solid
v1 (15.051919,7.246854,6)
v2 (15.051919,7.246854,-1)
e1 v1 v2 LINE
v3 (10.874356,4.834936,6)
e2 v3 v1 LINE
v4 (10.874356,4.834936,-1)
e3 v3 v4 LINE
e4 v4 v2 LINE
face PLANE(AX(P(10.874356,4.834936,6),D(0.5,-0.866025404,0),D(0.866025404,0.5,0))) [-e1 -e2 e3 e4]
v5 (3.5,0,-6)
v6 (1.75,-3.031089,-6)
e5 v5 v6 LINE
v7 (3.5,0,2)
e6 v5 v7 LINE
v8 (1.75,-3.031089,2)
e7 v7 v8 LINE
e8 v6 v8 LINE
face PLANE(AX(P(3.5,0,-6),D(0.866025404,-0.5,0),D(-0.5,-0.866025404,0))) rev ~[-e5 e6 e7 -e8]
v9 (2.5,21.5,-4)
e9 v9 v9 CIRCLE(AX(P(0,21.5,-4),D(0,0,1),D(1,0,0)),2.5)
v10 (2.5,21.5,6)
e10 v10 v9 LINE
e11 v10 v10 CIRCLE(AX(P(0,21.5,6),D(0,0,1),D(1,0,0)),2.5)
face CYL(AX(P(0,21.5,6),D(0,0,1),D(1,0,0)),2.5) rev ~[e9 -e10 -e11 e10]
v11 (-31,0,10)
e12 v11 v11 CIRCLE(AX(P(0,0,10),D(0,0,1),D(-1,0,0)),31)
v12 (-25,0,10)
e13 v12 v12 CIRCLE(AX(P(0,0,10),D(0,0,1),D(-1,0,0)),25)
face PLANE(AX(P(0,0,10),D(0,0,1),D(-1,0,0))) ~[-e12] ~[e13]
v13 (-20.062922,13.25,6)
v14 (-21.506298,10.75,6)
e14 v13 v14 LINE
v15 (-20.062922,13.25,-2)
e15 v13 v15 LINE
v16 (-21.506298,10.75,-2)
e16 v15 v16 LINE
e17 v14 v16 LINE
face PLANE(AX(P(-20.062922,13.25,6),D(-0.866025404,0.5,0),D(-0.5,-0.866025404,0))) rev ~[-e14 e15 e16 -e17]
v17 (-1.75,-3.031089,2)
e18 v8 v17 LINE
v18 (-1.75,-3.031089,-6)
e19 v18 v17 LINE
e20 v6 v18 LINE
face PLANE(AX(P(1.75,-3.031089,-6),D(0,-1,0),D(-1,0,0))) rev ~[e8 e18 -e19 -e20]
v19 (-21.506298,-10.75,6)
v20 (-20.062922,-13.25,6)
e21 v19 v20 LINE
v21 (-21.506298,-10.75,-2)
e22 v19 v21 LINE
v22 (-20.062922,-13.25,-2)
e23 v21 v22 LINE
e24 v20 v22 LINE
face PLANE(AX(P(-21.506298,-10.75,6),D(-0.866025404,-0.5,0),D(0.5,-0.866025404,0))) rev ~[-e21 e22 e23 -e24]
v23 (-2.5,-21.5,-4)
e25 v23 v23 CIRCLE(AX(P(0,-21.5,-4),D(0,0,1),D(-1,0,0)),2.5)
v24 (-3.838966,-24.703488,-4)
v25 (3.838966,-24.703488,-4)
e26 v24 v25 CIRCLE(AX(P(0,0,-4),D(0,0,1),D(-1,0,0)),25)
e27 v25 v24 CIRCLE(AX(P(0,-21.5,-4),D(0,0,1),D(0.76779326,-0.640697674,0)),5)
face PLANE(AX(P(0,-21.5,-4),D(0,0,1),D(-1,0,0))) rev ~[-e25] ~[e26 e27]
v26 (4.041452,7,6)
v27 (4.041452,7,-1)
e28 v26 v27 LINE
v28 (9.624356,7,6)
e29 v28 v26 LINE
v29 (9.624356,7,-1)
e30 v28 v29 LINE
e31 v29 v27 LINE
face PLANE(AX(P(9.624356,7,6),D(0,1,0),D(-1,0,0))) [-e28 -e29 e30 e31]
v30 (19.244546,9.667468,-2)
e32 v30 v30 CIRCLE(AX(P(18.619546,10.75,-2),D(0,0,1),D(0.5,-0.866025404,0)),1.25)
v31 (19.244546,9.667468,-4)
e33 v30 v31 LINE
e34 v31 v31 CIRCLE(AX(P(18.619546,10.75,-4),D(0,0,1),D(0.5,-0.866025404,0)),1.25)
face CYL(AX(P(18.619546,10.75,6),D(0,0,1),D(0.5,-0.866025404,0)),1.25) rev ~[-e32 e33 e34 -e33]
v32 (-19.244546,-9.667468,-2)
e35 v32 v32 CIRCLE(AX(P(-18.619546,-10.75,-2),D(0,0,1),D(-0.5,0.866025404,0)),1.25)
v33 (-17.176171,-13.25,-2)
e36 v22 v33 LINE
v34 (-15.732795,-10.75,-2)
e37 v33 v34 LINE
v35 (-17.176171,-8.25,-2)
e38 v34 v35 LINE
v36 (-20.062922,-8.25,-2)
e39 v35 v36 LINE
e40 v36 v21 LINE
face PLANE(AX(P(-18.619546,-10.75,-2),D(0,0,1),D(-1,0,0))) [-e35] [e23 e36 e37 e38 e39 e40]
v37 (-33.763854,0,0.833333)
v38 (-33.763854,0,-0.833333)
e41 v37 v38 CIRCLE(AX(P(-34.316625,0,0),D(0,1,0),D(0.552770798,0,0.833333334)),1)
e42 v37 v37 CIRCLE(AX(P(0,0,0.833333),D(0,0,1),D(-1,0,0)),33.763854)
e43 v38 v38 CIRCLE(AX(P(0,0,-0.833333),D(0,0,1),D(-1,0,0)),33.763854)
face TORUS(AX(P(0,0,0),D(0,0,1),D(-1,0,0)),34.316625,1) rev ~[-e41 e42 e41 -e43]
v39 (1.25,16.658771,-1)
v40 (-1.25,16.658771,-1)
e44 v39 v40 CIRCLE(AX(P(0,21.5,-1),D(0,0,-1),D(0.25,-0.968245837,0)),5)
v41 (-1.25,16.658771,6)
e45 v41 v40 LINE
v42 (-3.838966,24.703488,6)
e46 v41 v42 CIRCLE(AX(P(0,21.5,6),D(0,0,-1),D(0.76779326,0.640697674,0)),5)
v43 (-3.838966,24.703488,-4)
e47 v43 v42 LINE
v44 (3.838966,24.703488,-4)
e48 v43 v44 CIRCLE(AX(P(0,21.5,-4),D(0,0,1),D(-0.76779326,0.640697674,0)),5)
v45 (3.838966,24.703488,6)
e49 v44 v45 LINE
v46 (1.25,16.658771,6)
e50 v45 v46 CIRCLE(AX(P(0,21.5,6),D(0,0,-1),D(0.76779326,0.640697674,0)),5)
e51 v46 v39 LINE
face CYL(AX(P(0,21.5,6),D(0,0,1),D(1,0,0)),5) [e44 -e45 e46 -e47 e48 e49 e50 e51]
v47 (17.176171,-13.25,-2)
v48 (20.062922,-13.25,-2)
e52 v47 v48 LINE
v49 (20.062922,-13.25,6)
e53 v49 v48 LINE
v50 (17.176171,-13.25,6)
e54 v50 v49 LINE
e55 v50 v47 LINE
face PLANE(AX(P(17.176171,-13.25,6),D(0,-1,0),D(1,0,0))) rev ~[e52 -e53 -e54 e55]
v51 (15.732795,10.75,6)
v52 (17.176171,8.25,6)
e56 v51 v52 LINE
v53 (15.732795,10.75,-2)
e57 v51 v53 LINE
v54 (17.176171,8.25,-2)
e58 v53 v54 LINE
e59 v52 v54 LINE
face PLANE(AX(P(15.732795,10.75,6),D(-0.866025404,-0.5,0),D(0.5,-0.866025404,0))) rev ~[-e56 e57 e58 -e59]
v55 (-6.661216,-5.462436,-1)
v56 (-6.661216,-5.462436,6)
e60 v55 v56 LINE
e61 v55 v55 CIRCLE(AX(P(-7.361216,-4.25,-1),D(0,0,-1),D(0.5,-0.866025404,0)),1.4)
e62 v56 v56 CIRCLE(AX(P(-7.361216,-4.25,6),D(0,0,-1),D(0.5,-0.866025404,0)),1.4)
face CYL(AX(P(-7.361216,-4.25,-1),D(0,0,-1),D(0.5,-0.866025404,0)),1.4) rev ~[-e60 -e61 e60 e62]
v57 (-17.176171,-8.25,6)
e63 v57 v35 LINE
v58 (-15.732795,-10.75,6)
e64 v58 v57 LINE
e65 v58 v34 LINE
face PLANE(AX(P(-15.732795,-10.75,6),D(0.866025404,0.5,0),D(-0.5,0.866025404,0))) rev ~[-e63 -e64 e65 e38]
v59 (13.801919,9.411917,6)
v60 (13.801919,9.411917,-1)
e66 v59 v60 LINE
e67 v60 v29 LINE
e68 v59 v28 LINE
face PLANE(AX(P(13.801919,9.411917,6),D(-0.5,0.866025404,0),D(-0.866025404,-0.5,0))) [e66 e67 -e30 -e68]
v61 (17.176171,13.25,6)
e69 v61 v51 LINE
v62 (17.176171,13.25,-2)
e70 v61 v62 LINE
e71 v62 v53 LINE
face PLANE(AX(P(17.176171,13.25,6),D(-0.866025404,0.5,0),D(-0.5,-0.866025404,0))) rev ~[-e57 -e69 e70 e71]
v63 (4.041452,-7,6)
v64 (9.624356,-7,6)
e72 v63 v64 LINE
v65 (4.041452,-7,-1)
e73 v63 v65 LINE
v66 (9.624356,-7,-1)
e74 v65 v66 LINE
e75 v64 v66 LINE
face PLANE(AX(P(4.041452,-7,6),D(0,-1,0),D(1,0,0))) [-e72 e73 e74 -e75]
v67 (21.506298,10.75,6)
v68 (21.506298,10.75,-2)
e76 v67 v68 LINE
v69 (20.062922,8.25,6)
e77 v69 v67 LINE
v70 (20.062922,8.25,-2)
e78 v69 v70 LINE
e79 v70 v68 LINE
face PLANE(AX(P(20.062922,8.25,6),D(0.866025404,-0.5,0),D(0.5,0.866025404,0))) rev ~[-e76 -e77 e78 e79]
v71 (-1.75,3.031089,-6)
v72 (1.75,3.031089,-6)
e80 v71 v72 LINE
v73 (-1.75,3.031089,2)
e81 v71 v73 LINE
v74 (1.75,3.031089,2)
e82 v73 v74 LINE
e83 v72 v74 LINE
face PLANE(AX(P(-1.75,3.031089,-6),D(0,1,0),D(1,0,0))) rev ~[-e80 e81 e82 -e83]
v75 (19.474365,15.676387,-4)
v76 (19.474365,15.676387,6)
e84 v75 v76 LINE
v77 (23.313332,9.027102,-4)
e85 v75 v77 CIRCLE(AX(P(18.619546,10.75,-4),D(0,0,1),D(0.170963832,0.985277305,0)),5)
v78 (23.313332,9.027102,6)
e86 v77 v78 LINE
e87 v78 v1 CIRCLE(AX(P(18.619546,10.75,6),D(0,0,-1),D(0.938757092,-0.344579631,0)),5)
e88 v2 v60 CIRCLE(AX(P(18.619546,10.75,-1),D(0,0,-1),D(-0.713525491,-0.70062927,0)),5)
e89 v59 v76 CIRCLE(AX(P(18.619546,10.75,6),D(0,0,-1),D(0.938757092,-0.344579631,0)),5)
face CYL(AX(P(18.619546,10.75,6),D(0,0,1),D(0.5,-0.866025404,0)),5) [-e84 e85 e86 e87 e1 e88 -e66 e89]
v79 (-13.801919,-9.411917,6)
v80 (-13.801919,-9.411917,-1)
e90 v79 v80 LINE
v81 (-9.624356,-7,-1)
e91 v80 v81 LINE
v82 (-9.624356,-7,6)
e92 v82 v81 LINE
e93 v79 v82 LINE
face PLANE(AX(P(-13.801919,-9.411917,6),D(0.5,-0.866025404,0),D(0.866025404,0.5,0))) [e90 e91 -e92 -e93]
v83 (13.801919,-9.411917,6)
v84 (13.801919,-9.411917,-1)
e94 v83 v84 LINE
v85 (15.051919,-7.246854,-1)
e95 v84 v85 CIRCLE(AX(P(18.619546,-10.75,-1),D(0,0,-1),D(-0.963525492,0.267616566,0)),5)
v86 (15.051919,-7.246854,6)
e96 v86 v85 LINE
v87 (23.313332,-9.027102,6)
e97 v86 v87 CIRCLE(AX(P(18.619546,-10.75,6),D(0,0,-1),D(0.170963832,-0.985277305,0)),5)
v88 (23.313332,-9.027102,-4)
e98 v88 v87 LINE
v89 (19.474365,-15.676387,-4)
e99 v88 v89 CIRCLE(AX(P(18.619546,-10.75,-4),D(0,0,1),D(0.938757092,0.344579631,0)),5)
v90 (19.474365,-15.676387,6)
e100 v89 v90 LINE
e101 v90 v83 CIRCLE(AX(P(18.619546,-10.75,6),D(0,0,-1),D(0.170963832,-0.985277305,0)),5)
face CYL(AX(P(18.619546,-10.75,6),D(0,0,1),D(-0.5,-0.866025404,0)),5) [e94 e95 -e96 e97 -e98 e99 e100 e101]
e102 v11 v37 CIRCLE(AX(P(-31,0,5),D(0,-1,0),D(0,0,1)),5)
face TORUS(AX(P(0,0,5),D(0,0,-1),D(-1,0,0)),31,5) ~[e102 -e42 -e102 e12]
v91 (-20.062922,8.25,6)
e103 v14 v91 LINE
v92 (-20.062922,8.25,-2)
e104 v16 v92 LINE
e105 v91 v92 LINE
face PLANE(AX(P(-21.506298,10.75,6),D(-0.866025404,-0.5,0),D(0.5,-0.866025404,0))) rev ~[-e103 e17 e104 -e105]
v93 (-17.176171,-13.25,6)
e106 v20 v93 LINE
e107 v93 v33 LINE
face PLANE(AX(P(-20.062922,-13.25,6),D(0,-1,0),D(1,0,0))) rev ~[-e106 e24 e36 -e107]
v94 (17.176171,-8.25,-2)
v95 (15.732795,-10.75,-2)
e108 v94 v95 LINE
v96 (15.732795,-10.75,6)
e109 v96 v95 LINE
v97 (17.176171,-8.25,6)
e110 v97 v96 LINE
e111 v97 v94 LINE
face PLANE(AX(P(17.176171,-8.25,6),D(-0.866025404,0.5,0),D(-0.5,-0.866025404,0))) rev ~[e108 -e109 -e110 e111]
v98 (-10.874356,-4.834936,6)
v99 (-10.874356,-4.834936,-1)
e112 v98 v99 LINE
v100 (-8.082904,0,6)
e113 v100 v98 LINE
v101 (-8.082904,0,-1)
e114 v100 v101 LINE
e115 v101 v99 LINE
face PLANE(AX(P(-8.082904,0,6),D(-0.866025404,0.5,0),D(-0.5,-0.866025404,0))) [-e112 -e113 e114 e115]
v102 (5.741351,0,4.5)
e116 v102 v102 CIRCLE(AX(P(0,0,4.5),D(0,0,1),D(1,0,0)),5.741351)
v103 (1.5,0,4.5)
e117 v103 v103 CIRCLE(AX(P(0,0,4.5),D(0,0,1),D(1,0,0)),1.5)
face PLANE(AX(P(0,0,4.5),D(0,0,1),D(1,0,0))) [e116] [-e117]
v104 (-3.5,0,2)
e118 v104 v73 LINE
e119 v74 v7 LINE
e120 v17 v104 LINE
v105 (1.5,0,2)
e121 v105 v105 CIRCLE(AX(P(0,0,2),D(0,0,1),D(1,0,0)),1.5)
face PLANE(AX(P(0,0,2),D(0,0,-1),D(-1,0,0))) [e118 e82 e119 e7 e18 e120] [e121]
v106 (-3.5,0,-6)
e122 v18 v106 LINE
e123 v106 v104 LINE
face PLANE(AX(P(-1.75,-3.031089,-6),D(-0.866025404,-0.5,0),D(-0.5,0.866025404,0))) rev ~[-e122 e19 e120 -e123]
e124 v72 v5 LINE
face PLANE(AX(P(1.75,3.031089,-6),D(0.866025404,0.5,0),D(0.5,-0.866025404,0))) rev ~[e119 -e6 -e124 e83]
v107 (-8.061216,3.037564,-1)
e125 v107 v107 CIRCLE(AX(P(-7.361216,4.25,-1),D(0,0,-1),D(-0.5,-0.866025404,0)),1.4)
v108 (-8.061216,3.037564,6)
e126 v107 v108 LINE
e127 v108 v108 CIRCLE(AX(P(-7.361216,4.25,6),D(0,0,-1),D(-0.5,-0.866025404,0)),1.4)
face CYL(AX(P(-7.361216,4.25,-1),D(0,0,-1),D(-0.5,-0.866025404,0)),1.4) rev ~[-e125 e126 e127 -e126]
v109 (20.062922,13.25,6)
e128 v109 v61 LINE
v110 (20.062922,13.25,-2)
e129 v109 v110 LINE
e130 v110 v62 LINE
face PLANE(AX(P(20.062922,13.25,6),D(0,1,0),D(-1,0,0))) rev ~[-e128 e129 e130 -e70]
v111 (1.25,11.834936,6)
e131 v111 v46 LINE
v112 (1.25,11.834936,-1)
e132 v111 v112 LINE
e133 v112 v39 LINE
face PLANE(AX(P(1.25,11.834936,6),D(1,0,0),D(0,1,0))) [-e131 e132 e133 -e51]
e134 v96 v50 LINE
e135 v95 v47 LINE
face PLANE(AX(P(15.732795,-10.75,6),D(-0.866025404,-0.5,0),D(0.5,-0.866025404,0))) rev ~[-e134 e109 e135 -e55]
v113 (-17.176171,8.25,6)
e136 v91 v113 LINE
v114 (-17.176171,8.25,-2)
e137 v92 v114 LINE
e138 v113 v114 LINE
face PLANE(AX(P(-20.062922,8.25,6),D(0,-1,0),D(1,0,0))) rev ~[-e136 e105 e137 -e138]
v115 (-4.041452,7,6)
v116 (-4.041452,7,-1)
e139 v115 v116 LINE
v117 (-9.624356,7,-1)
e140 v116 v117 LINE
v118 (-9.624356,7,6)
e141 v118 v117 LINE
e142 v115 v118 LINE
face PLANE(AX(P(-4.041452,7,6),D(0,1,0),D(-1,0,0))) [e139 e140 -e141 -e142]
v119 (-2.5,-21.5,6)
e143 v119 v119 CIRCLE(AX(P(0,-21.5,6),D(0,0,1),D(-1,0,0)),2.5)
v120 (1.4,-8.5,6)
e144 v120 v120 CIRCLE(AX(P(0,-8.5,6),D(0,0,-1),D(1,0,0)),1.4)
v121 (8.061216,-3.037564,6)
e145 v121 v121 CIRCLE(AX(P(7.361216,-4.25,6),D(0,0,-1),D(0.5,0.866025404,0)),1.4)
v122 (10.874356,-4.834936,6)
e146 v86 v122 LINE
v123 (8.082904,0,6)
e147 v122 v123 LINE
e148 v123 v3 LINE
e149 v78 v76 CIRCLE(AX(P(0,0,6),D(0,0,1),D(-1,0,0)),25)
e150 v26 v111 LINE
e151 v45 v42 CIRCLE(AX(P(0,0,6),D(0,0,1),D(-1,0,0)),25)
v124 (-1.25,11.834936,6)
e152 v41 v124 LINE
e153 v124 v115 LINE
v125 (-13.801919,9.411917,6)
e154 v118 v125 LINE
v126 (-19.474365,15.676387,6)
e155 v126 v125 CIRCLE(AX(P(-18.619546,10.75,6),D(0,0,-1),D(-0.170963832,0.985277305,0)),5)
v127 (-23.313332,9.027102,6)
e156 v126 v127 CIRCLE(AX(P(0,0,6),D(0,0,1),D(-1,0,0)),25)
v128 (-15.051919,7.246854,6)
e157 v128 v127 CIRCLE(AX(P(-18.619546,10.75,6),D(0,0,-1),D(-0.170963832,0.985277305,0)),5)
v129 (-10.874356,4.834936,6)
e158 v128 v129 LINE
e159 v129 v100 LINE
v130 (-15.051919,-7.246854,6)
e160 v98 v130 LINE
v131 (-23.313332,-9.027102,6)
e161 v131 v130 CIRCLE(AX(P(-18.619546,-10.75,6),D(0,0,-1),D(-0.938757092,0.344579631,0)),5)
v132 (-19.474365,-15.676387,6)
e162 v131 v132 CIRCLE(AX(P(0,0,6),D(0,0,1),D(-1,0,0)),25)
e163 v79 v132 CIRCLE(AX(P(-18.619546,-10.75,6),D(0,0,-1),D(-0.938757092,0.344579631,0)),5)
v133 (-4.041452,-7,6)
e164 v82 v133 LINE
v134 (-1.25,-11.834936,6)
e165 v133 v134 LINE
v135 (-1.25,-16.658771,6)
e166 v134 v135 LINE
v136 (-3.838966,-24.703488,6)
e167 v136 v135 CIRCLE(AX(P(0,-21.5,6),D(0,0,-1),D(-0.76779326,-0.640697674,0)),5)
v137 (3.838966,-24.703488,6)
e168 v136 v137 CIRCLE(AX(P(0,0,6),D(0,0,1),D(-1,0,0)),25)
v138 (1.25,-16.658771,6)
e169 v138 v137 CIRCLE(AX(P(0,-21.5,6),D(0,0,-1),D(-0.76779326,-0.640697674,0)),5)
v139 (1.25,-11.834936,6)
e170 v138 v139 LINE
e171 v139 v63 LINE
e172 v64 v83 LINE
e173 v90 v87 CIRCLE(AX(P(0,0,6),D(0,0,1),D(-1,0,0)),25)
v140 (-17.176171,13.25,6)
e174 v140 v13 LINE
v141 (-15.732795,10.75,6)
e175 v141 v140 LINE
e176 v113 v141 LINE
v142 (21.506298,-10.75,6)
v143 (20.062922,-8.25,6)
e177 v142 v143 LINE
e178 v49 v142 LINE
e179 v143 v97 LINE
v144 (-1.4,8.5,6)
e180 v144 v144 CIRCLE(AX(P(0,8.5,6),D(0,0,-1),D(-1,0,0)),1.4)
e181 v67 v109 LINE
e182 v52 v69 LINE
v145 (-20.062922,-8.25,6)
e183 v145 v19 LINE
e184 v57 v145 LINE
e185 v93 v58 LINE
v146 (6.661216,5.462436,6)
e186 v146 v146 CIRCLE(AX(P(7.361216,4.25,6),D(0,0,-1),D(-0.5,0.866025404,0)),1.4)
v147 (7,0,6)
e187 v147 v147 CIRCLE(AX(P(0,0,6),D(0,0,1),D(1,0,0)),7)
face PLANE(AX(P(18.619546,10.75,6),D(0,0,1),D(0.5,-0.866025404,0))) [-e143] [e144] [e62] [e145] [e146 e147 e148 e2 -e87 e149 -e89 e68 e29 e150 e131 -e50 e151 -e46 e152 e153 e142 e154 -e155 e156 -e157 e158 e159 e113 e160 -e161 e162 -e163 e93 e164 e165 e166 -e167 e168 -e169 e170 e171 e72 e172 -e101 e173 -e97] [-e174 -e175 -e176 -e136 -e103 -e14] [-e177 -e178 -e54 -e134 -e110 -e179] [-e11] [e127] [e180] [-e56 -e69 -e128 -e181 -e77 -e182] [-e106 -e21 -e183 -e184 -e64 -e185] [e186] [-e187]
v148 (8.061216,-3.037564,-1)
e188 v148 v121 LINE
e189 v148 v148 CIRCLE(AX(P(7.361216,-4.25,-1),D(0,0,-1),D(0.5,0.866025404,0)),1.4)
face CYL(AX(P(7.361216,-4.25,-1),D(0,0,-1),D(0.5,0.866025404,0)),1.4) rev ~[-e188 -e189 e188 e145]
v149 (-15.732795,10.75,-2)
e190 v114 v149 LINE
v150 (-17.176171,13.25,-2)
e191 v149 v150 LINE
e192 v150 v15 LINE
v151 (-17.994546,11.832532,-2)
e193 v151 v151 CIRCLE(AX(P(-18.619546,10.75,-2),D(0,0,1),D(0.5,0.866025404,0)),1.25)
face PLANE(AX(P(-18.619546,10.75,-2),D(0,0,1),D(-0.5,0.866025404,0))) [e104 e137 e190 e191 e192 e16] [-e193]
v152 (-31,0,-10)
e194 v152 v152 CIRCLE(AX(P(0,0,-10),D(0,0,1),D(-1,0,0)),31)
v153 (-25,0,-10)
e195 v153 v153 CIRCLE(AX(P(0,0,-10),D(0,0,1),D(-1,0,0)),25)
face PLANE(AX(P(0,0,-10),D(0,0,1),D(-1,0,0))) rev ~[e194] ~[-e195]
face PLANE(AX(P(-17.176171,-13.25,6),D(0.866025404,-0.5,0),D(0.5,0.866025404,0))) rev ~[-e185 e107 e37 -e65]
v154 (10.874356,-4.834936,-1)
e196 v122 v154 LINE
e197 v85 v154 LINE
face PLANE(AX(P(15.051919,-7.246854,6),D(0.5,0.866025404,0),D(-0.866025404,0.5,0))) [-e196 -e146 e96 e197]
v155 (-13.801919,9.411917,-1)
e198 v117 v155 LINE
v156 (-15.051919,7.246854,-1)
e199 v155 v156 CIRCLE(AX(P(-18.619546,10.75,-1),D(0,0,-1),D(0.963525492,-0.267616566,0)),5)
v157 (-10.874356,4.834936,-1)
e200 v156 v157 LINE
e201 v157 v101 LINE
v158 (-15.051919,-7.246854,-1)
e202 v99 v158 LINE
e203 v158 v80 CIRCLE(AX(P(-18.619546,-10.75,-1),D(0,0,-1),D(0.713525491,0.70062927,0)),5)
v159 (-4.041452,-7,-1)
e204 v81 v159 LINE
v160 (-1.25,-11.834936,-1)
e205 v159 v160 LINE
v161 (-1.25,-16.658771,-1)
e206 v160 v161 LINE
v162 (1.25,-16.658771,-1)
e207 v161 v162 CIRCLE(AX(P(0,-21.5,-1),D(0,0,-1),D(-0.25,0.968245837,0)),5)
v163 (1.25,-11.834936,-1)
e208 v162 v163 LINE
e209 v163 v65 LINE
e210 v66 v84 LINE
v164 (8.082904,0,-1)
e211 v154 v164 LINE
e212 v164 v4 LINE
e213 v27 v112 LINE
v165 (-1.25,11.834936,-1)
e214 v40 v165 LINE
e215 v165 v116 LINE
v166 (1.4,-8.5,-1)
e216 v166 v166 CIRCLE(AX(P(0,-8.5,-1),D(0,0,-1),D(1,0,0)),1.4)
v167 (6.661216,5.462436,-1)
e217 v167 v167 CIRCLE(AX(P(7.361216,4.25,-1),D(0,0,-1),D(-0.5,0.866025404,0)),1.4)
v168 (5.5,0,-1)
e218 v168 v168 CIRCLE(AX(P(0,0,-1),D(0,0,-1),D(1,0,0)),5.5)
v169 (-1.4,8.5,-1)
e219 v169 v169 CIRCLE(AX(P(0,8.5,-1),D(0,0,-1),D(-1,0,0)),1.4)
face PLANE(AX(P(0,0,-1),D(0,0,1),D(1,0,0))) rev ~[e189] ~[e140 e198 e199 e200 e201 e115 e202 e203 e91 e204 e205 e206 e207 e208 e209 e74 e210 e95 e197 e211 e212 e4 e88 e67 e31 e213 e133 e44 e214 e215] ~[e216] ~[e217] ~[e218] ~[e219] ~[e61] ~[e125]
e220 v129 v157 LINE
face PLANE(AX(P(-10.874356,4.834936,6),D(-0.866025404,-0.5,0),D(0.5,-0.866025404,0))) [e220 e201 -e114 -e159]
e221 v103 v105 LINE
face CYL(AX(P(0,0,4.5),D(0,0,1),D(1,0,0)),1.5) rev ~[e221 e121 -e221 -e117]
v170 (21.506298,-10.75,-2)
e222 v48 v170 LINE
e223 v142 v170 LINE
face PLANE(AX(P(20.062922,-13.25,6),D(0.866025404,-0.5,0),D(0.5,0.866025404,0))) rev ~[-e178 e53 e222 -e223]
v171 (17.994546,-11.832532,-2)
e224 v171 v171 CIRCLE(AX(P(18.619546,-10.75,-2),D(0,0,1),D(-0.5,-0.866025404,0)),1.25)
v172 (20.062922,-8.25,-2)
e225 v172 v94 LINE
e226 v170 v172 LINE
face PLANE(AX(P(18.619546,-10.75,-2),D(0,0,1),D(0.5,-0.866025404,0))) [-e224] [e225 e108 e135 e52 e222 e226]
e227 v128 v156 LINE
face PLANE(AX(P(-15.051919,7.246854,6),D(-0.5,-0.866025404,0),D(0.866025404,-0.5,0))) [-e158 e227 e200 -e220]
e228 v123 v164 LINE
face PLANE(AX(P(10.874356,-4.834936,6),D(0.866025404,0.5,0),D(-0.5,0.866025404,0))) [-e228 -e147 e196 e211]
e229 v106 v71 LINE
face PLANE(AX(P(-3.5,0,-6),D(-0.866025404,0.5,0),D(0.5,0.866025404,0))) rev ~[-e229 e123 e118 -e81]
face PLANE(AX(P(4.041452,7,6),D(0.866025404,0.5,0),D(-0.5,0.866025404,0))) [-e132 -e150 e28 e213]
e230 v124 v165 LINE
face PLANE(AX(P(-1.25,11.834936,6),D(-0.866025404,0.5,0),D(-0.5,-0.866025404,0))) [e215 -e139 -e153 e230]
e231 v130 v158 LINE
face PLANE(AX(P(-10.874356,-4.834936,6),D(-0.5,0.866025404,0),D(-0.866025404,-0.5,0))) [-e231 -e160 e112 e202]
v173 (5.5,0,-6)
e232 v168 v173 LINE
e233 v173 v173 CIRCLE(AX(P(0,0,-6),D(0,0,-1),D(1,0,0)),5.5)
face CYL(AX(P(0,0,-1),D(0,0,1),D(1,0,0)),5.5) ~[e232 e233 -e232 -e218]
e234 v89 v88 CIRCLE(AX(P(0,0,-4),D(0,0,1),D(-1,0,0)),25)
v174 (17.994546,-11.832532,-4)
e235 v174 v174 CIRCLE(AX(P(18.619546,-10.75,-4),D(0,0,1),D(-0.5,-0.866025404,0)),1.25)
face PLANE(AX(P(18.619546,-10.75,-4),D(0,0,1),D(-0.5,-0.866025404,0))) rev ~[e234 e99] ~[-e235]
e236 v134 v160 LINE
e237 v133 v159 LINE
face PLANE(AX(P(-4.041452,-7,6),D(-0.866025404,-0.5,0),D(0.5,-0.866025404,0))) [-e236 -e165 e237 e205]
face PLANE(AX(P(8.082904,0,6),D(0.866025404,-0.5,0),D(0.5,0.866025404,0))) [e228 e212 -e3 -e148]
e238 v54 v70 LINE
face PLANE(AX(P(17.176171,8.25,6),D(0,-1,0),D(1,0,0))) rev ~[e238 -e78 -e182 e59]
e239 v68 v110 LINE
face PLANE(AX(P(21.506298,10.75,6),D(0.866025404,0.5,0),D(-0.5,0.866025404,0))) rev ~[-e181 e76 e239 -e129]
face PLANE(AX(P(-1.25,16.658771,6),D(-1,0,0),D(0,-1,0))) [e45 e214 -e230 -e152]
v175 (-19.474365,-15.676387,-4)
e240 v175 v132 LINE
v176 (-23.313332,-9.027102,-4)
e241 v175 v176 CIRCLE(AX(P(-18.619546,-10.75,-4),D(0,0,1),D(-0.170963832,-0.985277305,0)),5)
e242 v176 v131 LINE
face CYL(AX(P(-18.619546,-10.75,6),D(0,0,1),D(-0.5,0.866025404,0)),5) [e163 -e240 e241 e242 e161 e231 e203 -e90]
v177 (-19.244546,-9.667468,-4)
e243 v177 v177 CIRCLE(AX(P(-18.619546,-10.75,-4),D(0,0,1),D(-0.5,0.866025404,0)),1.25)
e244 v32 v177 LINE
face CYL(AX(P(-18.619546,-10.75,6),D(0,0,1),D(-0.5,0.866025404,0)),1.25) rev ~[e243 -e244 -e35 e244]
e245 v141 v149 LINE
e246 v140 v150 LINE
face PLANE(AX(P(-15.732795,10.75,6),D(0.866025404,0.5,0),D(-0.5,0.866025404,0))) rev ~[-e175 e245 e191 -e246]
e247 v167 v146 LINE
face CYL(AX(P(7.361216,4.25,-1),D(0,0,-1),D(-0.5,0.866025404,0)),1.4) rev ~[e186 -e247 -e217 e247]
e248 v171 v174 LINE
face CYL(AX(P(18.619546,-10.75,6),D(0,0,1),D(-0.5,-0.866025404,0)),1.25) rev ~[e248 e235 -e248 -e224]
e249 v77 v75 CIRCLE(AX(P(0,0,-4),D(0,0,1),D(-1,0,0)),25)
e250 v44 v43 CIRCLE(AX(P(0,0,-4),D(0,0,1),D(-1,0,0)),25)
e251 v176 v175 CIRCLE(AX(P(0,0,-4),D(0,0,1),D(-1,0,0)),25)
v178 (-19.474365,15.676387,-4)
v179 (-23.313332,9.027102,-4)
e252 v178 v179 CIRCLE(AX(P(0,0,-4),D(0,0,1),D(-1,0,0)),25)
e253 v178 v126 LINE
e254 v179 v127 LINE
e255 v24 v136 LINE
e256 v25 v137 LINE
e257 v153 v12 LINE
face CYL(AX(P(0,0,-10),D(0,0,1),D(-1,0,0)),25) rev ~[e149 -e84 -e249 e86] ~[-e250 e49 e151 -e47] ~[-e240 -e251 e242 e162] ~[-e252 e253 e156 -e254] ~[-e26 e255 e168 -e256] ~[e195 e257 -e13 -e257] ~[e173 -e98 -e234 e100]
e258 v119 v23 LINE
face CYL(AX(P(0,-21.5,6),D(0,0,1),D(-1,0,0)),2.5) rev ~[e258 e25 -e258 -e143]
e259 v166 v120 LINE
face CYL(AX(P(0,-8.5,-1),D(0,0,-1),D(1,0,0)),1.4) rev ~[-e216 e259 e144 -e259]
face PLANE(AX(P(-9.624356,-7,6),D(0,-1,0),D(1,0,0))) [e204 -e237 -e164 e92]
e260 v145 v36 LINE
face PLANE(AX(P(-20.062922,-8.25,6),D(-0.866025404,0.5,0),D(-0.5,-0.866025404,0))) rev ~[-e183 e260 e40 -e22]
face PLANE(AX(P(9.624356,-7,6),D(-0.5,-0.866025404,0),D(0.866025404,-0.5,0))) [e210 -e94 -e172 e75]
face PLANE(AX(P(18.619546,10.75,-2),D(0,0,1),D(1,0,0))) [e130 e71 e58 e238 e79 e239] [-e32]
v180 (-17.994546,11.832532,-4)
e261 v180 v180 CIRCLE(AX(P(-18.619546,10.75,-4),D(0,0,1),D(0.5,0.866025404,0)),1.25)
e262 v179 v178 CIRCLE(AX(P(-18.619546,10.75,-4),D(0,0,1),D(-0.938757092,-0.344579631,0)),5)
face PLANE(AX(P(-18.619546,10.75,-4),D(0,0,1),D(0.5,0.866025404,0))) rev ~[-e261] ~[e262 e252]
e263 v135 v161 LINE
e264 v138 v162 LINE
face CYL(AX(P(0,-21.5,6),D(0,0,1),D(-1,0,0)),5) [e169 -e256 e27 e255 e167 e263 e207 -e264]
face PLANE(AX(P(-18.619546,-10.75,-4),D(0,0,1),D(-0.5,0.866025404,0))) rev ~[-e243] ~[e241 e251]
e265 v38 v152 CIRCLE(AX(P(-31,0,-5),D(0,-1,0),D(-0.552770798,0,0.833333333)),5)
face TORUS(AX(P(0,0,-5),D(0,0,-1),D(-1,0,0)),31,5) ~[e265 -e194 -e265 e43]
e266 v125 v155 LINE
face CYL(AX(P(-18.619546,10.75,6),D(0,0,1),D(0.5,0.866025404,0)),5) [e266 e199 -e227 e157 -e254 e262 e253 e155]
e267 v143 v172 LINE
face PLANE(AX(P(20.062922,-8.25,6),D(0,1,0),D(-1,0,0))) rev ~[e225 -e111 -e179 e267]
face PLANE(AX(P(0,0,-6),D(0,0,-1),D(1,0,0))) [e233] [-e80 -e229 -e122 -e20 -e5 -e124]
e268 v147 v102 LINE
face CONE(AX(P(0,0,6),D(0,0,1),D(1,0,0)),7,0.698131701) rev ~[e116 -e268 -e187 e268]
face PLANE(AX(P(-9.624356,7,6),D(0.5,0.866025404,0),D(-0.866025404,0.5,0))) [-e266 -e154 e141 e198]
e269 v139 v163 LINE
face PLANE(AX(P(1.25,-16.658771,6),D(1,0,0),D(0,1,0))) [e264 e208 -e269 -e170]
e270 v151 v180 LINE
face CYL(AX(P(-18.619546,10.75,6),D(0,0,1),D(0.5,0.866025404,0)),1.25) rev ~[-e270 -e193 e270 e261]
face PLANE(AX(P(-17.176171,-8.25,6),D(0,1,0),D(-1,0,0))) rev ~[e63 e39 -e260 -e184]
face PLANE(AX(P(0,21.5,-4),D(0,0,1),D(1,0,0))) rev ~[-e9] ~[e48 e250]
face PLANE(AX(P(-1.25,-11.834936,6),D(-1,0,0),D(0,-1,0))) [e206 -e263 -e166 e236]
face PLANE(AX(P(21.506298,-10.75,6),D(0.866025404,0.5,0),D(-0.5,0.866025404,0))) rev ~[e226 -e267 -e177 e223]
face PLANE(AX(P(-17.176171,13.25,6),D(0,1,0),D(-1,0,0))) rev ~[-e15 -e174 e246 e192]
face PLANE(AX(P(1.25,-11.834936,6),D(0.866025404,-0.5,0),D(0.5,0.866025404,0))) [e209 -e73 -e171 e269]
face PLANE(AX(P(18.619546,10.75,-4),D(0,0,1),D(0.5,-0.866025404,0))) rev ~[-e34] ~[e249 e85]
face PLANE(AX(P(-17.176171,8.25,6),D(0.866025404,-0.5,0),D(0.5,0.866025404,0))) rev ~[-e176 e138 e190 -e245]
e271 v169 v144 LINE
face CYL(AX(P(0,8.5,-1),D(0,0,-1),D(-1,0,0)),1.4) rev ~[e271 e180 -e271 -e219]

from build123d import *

# Parameters (mm, degrees)
SKETCH_2_R               = 5
EXTRUDE_1_DEPTH          = 10
PATTERN_CIRCULAR_1_COUNT = 6
EXTRUDE_2_DEPTH          = 7
SKETCH_4_R               = 1.4
CUT_EXTRUDE_1_DEPTH      = 53.086466711
PATTERN_CIRCULAR_2_COUNT = 6
SKETCH_5_R               = 5.5
EXTRUDE_3_DEPTH          = 5
SKETCH_7_R               = 7
CUT_EXTRUDE_3_DEPTH      = 1.5
CUT_EXTRUDE_3_DRAFT      = -40
SKETCH_8_R               = 1.5
CUT_EXTRUDE_4_DEPTH      = 53.93628259
SKETCH_10_R              = 1.25
CUT_EXTRUDE_6_DEPTH      = 54.366656391
PATTERN_CIRCULAR_3_COUNT = 6
SKETCH_11_R              = 2.5
CUT_EXTRUDE_7_DEPTH      = 54.366656391
PATTERN_CIRCULAR_4_COUNT = 2
CUT_EXTRUDE_8_DEPTH      = 8
PATTERN_CIRCULAR_5_COUNT = 6
CUT_EXTRUDE_9_DEPTH      = 8


with BuildPart() as part:
    # 草图1 → 旋转1 (revolve)
    with BuildSketch(Plane(origin=(0, 0, 0), x_dir=(1, 0, 0), z_dir=(0, 1, 0)), mode=Mode.PRIVATE) as revolve_1_sk:
        with BuildLine():
            Line((25, 10), (25, -10))
            Line((25, -10), (31, -10))
            ThreePointArc((31, -10), (35.787135539, -6.443375673), (33.763853992, -0.833333333))
            ThreePointArc((33.763853992, -0.833333333), (33.31662479, 0), (33.763853992, 0.833333333))
            ThreePointArc((33.763853992, 0.833333333), (35.787135539, 6.443375673), (31, 10))
            Line((31, 10), (25, 10))
        make_face()
    revolve(revolve_1_sk.sketch.rotate(Axis((0, 0, -146.934042126), (0, 0, 1)), 180), axis=Axis((0, 0, -146.934042126), (0, 0, 1)))

    # 草图2 → 凸台-拉伸1 (add)
    with BuildSketch(Plane.XY.offset(6)):
        with Locations((0, 21.5)):
            Circle(SKETCH_2_R)
    extrude_1 = extrude(amount=-EXTRUDE_1_DEPTH)

    # 阵列(圆周)1: 凸台-拉伸1 ×6 about axis
    pattern_circular_1_axis = Axis((0, 0, 0), (0, 0, 1))
    for i in range(1, PATTERN_CIRCULAR_1_COUNT):
        add(extrude_1.rotate(pattern_circular_1_axis, i * 360 / PATTERN_CIRCULAR_1_COUNT))

    # 草图3 → 凸台-拉伸2 (add)
    with BuildSketch(Plane.XY.offset(6)):
        with BuildLine():
            Line((-8.082903769, 0), (-10.874355653, -4.834936491))
            Line((-10.874355653, -4.834936491), (-15.051918724, -7.246853654))
            ThreePointArc((-15.051918724, -7.246853654), (-14.289419162, -8.25), (-13.801918724, -9.411917163))
            Line((-13.801918724, -9.411917163), (-9.624355653, -7))
            Line((-9.624355653, -7), (-4.041451884, -7))
            Line((-4.041451884, -7), (-1.25, -11.834936491))
            Line((-1.25, -11.834936491), (-1.25, -16.658770817))
            ThreePointArc((-1.25, -16.658770817), (0, -16.5), (1.25, -16.658770817))
            Line((1.25, -16.658770817), (1.25, -11.834936491))
            Line((1.25, -11.834936491), (4.041451884, -7))
            Line((4.041451884, -7), (9.624355653, -7))
            Line((9.624355653, -7), (13.801918724, -9.411917163))
            ThreePointArc((13.801918724, -9.411917163), (14.289419162, -8.25), (15.051918724, -7.246853654))
            Line((15.051918724, -7.246853654), (10.874355653, -4.834936491))
            Line((10.874355653, -4.834936491), (8.082903769, 0))
            Line((8.082903769, 0), (10.874355653, 4.834936491))
            Line((10.874355653, 4.834936491), (15.051918724, 7.246853654))
            ThreePointArc((15.051918724, 7.246853654), (14.289419162, 8.25), (13.801918724, 9.411917163))
            Line((13.801918724, 9.411917163), (9.624355653, 7))
            Line((9.624355653, 7), (4.041451884, 7))
            Line((4.041451884, 7), (1.25, 11.834936491))
            Line((1.25, 11.834936491), (1.25, 16.658770817))
            ThreePointArc((1.25, 16.658770817), (0, 16.5), (-1.25, 16.658770817))
            Line((-1.25, 16.658770817), (-1.25, 11.834936491))
            Line((-1.25, 11.834936491), (-4.041451884, 7))
            Line((-4.041451884, 7), (-9.624355653, 7))
            Line((-9.624355653, 7), (-13.801918724, 9.411917163))
            ThreePointArc((-13.801918724, 9.411917163), (-14.289419162, 8.25), (-15.051918724, 7.246853654))
            Line((-15.051918724, 7.246853654), (-10.874355653, 4.834936491))
            Line((-10.874355653, 4.834936491), (-8.082903769, 0))
        make_face()
    extrude(amount=-EXTRUDE_2_DEPTH)

    # 草图4 → 切除-拉伸1 (cut, through all)
    with BuildSketch(Plane(origin=(0, 0, -1), x_dir=(-1, 0, 0), z_dir=(0, 0, -1))):
        with Locations((0, 8.5)):
            Circle(SKETCH_4_R)
    cut_extrude_1 = extrude(amount=-CUT_EXTRUDE_1_DEPTH, mode=Mode.SUBTRACT)

    # 阵列(圆周)2: 切除-拉伸1 ×6 about axis
    pattern_circular_2_axis = Axis((0, 0, 0), (0, 0, 1))
    for i in range(1, PATTERN_CIRCULAR_2_COUNT):
        add(cut_extrude_1.rotate(pattern_circular_2_axis, i * 360 / PATTERN_CIRCULAR_2_COUNT), mode=Mode.SUBTRACT)

    # 草图5 → 凸台-拉伸3 (add)
    with BuildSketch(Plane(origin=(0, 0, -1), x_dir=(-1, 0, 0), z_dir=(0, 0, -1))):
        with Locations(Location((0, 0, 0), (0, 0, 180))):
            Circle(SKETCH_5_R)
    extrude(amount=EXTRUDE_3_DEPTH)


with BuildPart() as cut_extrude_3_tool:
    # 草图7 → 切除-拉伸3 (with draft: the straight prism first)
    with BuildSketch(Plane.XY.offset(6)):
        Circle(SKETCH_7_R)
    extrude(amount=-CUT_EXTRUDE_3_DEPTH)
    # 切除-拉伸3: the draft: its side faces are tilted about the plane it starts from
    cut_extrude_3_sides = [cut_extrude_3_tool.faces().sort_by_distance(p)[0] for p in [
        (-7, 0, 5.25),
    ]]
    draft(cut_extrude_3_sides, Plane.XY.offset(6), CUT_EXTRUDE_3_DRAFT)


with BuildPart() as part_1:
    add(part.part)

    # 切除-拉伸3: cut by cut_extrude_3_tool
    add(cut_extrude_3_tool.part, mode=Mode.SUBTRACT)

    # 草图8 → 切除-拉伸4 (cut, through all)
    with BuildSketch(Plane.XY.offset(4.5)):
        Circle(SKETCH_8_R)
    extrude(amount=-CUT_EXTRUDE_4_DEPTH, mode=Mode.SUBTRACT)

    # 草图10 → 切除-拉伸6 (cut, through all)
    with BuildSketch(Plane.XY.offset(6)):
        with Locations((0, 21.5)):
            Circle(SKETCH_10_R)
    cut_extrude_6 = extrude(amount=-CUT_EXTRUDE_6_DEPTH, mode=Mode.SUBTRACT)

    # 阵列(圆周)3: 切除-拉伸6 ×6 about axis
    pattern_circular_3_axis = Axis((0, 0, 0), (0, 0, 1))
    for i in range(1, PATTERN_CIRCULAR_3_COUNT):
        add(cut_extrude_6.rotate(pattern_circular_3_axis, i * 360 / PATTERN_CIRCULAR_3_COUNT), mode=Mode.SUBTRACT)

    # 草图11 → 切除-拉伸7 (cut, through all)
    with BuildSketch(Plane.XY.offset(6)):
        with Locations((0, 21.5)):
            Circle(SKETCH_11_R)
    cut_extrude_7 = extrude(amount=-CUT_EXTRUDE_7_DEPTH, mode=Mode.SUBTRACT)

    # 阵列(圆周)4: 切除-拉伸7 ×2 about axis
    pattern_circular_4_axis = Axis((0, 0, 0), (0, 0, 1))
    for i in range(1, PATTERN_CIRCULAR_4_COUNT):
        add(cut_extrude_7.rotate(pattern_circular_4_axis, i * 360 / PATTERN_CIRCULAR_4_COUNT), mode=Mode.SUBTRACT)

    # 草图12 → 切除-拉伸8 (cut)
    with BuildSketch(Plane.XY.offset(6)):
        Polygon((20.062921854, 8.25), (21.506297527, 10.75), (20.062921854, 13.25), (17.176170508, 13.25), (15.732794835, 10.75), (17.176170508, 8.25), align=None)
    cut_extrude_8 = extrude(amount=-CUT_EXTRUDE_8_DEPTH, mode=Mode.SUBTRACT)

    # 阵列(圆周)5: 切除-拉伸8 ×6 about axis, 2 skipped
    pattern_circular_5_axis = Axis((0, 0, 0), (0, 0, -1))
    add([cut_extrude_8.rotate(pattern_circular_5_axis, i * 360 / PATTERN_CIRCULAR_5_COUNT) for i in range(1, PATTERN_CIRCULAR_5_COUNT) if i not in (2, 5)], mode=Mode.SUBTRACT)

    # 草图9 → 切除-拉伸9 (cut)
    with BuildSketch(Plane(origin=(0, 0, -6), x_dir=(-1, 0, 0), z_dir=(0, 0, -1))):
        Polygon((3.5, 0), (1.75, 3.031088913), (-1.75, 3.031088913), (-3.5, 0), (-1.75, -3.031088913), (1.75, -3.031088913), align=None)
    extrude(amount=-CUT_EXTRUDE_9_DEPTH, mode=Mode.SUBTRACT)


solid = part_1.part
